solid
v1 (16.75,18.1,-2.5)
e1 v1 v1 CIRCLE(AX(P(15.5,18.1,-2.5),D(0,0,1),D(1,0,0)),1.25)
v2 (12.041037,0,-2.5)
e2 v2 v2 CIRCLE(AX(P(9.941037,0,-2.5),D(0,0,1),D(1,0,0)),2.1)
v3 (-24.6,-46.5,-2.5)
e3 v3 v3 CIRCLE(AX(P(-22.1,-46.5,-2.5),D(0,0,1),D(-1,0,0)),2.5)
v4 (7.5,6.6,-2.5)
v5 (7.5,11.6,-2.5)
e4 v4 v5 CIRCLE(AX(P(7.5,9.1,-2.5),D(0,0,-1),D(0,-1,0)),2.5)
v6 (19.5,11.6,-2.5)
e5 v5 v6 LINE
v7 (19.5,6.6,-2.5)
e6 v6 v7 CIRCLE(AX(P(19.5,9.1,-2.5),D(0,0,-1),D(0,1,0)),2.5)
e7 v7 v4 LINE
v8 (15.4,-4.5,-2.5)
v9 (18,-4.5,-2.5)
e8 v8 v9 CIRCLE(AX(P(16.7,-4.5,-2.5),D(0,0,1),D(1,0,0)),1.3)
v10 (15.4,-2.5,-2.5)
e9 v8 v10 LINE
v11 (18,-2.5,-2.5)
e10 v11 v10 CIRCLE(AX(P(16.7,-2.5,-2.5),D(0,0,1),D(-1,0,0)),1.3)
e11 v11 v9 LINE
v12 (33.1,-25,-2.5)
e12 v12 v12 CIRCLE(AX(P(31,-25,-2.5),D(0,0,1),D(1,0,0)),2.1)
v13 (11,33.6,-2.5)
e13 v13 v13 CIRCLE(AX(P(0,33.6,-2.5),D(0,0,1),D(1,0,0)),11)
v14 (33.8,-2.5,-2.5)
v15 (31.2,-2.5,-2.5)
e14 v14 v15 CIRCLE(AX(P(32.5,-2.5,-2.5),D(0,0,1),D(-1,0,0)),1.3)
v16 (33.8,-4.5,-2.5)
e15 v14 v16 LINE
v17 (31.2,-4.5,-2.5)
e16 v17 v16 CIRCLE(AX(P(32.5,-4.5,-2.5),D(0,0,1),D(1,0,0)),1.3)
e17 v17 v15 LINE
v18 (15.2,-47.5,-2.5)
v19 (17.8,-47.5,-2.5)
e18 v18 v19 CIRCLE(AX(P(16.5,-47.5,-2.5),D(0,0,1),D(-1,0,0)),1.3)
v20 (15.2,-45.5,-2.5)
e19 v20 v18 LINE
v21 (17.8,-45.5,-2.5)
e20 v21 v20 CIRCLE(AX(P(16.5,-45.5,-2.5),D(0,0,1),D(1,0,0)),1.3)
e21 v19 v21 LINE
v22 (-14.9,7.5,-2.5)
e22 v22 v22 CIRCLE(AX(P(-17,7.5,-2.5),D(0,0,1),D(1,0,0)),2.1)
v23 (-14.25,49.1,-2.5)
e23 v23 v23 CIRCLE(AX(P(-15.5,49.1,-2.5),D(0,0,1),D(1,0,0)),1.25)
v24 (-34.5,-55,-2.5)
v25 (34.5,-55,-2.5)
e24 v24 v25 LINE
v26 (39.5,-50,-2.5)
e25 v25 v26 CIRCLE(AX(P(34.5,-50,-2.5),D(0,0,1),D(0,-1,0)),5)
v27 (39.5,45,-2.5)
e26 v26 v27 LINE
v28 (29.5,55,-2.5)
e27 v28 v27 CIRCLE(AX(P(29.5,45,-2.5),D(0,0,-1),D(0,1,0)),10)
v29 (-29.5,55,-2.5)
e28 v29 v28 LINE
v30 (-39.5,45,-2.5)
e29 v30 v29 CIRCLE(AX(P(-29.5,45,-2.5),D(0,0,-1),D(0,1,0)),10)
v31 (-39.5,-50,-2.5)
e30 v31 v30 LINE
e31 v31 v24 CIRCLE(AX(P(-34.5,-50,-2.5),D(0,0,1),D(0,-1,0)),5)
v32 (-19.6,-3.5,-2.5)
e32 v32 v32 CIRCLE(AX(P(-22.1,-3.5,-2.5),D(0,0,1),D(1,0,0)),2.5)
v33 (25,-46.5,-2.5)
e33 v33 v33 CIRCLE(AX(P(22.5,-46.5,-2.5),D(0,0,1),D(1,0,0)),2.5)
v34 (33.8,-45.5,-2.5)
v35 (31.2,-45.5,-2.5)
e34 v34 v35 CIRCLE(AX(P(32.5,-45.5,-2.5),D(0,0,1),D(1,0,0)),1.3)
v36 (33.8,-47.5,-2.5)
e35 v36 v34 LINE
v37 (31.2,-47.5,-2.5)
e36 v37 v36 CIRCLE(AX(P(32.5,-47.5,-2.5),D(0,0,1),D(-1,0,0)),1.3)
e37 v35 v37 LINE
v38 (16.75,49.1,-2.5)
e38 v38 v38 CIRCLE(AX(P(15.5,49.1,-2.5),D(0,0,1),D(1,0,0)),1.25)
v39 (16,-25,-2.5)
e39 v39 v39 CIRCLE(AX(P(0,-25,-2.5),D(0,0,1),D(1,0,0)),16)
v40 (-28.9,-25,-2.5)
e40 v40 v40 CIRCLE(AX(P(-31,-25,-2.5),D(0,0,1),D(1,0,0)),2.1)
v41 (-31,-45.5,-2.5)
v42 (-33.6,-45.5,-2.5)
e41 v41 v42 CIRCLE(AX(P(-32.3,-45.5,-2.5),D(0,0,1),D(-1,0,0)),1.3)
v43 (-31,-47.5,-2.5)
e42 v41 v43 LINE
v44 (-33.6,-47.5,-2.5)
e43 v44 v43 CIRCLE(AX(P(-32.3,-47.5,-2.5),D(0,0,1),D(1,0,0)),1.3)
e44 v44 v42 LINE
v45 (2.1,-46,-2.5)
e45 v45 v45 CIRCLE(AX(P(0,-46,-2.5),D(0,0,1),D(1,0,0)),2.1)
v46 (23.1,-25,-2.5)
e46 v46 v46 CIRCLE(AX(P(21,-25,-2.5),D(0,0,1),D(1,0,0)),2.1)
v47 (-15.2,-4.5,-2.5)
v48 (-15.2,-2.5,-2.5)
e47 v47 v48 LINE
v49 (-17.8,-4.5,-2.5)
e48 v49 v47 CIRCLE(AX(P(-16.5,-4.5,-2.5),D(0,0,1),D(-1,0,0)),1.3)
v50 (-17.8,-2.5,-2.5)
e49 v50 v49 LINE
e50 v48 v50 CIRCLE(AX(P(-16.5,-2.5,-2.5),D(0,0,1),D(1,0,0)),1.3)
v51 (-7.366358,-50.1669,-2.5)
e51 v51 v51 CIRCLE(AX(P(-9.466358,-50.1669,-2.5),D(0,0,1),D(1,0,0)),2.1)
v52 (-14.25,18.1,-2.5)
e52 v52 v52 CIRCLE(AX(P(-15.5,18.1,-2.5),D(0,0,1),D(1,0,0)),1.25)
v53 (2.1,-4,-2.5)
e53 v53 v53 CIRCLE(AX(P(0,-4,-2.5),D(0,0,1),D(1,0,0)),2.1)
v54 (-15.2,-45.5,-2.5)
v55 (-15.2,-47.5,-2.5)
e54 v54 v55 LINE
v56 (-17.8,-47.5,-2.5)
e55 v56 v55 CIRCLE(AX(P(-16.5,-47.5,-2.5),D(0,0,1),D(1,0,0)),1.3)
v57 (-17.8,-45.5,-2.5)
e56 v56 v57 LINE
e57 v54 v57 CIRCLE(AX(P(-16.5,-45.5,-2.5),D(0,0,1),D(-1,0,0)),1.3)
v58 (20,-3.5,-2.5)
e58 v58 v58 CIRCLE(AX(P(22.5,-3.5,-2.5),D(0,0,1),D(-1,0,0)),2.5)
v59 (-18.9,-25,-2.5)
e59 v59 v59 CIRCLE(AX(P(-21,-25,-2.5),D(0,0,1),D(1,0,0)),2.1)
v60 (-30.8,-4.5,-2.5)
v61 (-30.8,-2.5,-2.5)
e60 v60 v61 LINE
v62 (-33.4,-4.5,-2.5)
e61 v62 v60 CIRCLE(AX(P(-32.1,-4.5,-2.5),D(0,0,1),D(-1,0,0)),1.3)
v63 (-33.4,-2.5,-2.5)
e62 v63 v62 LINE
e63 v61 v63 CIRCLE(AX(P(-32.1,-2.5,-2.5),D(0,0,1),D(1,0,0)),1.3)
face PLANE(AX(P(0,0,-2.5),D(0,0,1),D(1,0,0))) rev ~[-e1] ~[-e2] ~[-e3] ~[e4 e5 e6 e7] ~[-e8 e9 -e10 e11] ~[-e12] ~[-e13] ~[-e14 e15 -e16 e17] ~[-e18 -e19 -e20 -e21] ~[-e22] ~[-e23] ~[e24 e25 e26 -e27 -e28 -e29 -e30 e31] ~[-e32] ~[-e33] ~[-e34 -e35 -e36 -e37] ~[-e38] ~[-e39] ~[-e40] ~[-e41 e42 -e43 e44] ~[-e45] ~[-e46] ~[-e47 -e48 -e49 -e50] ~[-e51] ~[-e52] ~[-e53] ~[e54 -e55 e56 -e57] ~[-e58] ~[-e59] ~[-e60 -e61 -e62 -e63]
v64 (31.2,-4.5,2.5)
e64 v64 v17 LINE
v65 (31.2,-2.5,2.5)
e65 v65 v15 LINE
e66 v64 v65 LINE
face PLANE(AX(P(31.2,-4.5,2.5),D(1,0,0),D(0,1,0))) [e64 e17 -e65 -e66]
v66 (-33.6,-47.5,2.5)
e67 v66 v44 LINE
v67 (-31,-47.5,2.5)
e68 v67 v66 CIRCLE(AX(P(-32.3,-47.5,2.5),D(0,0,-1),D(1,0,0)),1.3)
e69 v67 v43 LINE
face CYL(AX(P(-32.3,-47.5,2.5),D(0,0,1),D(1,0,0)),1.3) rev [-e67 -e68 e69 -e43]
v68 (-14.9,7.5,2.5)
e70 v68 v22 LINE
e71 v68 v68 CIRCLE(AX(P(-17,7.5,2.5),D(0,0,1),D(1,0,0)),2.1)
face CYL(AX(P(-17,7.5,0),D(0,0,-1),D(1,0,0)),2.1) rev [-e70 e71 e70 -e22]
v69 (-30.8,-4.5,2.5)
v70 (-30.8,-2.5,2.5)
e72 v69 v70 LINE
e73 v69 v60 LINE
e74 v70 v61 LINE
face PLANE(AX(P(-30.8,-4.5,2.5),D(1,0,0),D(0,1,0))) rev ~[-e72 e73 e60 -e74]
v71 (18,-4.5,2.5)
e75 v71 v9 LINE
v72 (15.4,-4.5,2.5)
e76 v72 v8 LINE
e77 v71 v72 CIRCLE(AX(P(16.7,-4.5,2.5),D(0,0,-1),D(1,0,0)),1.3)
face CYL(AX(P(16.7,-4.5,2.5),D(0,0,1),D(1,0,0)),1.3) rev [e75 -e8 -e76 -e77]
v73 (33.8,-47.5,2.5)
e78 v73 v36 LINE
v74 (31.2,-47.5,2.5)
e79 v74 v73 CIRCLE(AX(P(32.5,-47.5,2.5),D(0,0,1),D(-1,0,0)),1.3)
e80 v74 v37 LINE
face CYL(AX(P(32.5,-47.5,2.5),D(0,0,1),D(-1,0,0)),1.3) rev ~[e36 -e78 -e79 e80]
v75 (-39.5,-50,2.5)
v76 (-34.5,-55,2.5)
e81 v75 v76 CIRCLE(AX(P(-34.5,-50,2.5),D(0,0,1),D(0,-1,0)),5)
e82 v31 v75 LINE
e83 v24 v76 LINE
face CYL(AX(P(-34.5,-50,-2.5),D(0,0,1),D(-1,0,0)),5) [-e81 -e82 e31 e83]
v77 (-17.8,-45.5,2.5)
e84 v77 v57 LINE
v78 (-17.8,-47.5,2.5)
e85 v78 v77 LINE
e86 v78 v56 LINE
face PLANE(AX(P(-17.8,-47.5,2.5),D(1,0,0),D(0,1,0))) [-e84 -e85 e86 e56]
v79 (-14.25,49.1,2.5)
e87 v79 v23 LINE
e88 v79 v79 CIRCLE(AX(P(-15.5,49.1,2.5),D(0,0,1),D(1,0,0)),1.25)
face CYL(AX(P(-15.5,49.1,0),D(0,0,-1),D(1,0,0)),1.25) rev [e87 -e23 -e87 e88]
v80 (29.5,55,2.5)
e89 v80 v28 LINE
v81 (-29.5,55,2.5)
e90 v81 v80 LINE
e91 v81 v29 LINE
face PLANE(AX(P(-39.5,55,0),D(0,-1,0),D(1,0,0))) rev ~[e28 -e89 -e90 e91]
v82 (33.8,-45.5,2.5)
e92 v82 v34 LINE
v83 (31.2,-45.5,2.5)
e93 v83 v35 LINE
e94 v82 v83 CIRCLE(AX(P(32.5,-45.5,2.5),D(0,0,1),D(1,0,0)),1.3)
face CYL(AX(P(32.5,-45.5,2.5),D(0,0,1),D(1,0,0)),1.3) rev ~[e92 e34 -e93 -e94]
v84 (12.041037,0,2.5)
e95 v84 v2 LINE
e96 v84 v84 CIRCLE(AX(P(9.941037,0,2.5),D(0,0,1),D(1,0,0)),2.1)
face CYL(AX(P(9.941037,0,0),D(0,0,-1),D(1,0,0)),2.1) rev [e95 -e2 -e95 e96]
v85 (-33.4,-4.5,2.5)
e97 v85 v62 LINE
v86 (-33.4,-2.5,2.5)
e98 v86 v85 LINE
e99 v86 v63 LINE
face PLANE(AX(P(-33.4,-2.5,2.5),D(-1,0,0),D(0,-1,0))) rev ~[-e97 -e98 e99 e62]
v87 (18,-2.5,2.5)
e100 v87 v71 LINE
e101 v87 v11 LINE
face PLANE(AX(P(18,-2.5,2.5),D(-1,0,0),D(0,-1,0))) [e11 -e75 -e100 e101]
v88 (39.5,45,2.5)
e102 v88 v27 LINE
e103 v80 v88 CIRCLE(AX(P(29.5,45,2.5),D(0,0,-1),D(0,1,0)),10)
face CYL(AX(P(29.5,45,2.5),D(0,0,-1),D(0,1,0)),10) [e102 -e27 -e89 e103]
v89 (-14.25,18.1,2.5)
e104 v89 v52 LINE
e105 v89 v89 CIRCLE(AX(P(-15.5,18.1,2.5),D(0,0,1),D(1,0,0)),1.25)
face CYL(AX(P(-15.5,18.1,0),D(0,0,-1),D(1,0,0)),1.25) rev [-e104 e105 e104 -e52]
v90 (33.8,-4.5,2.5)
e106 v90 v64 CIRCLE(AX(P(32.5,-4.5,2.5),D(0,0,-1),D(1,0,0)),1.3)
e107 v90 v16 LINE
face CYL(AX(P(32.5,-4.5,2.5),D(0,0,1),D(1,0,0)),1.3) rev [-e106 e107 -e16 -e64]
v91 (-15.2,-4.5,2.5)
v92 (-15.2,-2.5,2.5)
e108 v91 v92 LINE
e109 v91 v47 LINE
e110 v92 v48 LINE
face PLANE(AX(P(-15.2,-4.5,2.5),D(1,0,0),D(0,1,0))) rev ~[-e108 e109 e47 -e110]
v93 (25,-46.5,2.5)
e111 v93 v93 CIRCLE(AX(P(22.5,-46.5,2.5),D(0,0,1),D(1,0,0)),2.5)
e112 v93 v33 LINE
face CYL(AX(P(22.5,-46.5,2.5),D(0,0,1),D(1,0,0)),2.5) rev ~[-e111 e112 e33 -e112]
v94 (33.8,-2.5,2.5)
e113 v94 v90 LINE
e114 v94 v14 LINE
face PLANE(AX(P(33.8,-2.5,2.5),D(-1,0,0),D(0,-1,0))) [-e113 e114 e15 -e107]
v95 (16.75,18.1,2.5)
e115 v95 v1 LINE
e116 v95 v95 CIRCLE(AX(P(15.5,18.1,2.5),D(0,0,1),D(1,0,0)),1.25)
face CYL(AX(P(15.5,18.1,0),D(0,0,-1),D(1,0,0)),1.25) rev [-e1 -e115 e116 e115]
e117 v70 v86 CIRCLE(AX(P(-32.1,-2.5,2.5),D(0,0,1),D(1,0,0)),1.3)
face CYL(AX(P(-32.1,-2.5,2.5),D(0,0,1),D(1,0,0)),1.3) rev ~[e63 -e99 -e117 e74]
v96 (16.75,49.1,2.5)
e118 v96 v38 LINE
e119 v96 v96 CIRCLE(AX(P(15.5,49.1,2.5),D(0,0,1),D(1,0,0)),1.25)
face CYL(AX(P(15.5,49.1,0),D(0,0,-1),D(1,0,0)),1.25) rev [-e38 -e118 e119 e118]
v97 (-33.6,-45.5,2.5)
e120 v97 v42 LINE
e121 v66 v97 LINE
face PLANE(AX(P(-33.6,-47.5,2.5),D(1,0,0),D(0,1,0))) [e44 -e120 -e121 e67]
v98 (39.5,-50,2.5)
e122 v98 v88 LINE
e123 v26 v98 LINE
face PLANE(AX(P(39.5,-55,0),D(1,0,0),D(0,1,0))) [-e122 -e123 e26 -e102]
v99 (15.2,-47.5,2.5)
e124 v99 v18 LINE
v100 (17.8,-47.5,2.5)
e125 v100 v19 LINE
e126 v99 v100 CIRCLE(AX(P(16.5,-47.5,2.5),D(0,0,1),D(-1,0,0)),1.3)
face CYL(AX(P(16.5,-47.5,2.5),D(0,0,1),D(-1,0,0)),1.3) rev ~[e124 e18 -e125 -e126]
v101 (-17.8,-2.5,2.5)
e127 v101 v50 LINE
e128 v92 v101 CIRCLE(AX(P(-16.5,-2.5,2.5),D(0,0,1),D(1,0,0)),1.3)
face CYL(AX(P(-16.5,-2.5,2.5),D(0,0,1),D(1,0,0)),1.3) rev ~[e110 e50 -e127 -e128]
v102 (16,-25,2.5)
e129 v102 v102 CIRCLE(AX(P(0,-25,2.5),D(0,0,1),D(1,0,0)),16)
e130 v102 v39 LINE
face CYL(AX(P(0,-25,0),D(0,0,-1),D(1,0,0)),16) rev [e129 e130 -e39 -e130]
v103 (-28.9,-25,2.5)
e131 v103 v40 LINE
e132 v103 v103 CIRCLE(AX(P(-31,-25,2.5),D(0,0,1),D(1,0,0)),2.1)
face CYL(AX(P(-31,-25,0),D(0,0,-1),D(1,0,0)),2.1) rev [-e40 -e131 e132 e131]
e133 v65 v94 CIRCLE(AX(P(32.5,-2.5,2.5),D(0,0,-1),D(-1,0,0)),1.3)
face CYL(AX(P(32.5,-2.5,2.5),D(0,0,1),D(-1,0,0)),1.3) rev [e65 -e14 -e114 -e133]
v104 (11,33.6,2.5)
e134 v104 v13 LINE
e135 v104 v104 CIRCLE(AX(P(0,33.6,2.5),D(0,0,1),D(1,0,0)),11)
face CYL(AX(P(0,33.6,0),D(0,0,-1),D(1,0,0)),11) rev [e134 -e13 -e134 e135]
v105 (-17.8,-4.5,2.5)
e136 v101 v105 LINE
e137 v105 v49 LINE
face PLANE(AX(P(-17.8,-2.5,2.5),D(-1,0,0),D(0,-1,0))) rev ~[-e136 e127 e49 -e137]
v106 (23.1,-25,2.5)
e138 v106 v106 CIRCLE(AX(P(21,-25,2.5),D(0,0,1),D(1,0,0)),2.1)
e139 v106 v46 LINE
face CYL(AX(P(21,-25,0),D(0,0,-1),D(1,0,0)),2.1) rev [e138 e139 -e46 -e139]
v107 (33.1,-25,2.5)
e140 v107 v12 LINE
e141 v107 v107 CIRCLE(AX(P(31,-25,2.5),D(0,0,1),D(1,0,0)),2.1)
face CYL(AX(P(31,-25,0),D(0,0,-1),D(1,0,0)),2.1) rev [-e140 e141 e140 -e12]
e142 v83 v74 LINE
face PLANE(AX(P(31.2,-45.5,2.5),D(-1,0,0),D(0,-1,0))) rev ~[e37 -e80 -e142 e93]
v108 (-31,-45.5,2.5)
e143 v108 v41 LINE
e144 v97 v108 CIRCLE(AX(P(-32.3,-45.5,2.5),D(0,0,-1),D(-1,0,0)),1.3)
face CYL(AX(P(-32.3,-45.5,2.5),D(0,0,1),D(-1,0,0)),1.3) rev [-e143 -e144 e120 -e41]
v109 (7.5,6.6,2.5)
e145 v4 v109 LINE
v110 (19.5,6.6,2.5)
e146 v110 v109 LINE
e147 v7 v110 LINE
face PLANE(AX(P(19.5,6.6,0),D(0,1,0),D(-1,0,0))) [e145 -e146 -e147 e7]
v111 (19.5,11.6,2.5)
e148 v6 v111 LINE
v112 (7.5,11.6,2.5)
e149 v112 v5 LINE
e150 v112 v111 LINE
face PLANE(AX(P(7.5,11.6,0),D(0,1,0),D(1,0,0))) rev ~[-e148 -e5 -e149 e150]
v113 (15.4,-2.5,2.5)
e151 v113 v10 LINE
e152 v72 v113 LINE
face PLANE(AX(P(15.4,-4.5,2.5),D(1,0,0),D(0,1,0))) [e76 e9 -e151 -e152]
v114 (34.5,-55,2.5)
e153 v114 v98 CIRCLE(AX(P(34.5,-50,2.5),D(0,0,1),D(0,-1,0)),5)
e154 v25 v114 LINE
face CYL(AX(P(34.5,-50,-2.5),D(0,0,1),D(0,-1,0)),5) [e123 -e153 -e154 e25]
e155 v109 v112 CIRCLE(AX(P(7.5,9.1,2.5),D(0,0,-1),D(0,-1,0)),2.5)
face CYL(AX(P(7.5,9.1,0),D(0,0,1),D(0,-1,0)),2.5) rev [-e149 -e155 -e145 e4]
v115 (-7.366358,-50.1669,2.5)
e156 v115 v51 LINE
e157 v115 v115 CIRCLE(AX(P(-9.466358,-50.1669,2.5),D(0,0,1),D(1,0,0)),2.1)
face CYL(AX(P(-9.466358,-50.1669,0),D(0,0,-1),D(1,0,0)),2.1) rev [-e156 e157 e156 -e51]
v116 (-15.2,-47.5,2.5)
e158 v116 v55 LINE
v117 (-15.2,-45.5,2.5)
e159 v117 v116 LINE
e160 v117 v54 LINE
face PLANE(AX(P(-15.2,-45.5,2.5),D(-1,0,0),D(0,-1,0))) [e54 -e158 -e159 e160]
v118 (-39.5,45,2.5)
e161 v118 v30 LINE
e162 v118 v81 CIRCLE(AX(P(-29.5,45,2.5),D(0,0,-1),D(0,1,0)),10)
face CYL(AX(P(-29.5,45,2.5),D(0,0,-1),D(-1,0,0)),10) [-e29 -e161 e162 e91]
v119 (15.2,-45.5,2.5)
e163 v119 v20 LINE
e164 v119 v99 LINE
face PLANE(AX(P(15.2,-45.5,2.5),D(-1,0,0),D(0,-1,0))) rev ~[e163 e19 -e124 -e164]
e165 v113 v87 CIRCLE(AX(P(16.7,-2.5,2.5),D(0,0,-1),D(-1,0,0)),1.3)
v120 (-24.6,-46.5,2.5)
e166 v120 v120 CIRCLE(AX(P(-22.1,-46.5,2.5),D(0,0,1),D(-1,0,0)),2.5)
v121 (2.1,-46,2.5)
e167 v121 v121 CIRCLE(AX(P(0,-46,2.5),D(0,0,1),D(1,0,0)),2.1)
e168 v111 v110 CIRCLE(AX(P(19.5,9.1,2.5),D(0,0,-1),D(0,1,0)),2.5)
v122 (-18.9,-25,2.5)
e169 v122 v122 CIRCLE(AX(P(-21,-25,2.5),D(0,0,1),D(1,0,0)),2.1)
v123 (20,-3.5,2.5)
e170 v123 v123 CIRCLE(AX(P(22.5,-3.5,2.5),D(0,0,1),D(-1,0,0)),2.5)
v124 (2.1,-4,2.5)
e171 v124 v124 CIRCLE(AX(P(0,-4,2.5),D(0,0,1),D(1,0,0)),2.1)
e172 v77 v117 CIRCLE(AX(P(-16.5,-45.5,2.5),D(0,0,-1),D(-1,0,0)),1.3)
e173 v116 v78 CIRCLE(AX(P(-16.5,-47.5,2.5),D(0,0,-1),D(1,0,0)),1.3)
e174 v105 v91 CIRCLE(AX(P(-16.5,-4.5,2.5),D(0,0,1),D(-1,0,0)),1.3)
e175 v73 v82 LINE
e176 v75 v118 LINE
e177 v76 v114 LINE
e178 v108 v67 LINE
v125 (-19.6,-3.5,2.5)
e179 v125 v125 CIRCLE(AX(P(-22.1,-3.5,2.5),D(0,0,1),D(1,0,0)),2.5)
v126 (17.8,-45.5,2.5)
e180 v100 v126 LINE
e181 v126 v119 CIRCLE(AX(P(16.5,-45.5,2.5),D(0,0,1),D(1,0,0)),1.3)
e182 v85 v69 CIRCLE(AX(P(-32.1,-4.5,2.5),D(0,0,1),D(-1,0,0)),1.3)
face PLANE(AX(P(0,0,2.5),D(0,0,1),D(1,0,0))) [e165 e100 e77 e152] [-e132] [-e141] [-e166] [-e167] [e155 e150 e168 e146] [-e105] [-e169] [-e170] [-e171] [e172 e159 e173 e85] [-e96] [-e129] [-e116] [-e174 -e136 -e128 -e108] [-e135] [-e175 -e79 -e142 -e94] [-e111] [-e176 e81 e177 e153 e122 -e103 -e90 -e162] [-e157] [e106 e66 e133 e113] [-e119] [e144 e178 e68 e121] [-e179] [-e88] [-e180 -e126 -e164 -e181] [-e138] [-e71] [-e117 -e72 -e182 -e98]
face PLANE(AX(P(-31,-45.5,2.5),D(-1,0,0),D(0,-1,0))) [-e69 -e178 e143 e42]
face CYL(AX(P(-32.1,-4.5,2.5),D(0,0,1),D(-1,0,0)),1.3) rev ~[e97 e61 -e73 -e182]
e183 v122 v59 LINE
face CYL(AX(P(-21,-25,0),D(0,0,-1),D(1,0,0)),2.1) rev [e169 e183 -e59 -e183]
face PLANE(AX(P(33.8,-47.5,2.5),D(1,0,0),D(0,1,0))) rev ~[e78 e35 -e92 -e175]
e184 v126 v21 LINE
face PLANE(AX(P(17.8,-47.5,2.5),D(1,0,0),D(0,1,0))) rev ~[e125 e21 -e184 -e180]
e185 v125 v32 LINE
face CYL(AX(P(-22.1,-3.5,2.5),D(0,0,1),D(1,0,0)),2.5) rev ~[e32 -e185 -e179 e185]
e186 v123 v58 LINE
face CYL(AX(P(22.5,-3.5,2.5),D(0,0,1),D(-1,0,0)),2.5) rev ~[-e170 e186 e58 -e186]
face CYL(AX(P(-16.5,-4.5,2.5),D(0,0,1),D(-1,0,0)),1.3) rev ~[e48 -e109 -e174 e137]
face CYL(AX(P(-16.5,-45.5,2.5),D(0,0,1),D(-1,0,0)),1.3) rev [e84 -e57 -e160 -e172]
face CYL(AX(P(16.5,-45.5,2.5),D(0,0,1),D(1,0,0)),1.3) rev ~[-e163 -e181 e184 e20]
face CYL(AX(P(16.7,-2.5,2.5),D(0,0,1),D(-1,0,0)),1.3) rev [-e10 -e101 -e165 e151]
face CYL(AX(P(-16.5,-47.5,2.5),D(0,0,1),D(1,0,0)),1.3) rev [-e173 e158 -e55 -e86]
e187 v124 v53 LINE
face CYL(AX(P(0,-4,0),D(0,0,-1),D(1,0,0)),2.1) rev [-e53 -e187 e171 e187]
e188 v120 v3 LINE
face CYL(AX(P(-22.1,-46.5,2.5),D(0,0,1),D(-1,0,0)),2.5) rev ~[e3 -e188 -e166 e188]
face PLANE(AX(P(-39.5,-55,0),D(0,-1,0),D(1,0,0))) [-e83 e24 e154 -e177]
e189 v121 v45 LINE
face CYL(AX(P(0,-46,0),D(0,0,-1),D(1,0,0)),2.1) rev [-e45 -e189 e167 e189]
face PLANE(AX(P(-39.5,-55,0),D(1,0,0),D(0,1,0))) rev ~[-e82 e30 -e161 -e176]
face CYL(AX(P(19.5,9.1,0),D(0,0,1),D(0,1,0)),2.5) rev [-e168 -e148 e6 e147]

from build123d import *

# Parameters (mm, degrees)
SKETCH1_W           = 79
SKETCH1_H           = 110
SKETCH1_R           = 16
SKETCH1_R_2         = 11
SKETCH1_R_3         = 2.1
SKETCH1_R_4         = 1.25
BOSS_EXTRUDE1_DEPTH = 2.5
SKETCH2_R           = 2.5
CUT_EXTRUDE1_DEPTH  = 648.672345596
FILLET1_R           = 10
FILLET2_R           = 5


with BuildPart() as part:
    # Sketch1 → Boss-Extrude1 (new, symmetric)
    with BuildSketch(Plane.XY):
        Rectangle(SKETCH1_W, SKETCH1_H)
        with Locations((0, -25)):
            Circle(SKETCH1_R, mode=Mode.SUBTRACT)
        with Locations((0, 33.6)):
            Circle(SKETCH1_R_2, mode=Mode.SUBTRACT)
        with Locations((21, -25)):
            Circle(SKETCH1_R_3, mode=Mode.SUBTRACT)
        with Locations((-21, -25)):
            Circle(SKETCH1_R_3, mode=Mode.SUBTRACT)
        with Locations((0, -4)):
            Circle(SKETCH1_R_3, mode=Mode.SUBTRACT)
        with Locations((0, -46)):
            Circle(SKETCH1_R_3, mode=Mode.SUBTRACT)
        with Locations((15.5, 49.1)):
            Circle(SKETCH1_R_4, mode=Mode.SUBTRACT)
        with Locations((15.5, 18.1)):
            Circle(SKETCH1_R_4, mode=Mode.SUBTRACT)
        with Locations((-15.5, 18.1)):
            Circle(SKETCH1_R_4, mode=Mode.SUBTRACT)
        with Locations((-15.5, 49.1)):
            Circle(SKETCH1_R_4, mode=Mode.SUBTRACT)
        with Locations((-17, 7.5)):
            Circle(SKETCH1_R_3, mode=Mode.SUBTRACT)
        with Locations((9.941037343, 0)):
            Circle(SKETCH1_R_3, mode=Mode.SUBTRACT)
        with Locations((31, -25)):
            Circle(SKETCH1_R_3, mode=Mode.SUBTRACT)
        with Locations((-9.466357856, -50.166900153)):
            Circle(SKETCH1_R_3, mode=Mode.SUBTRACT)
        with Locations((-31, -25)):
            Circle(SKETCH1_R_3, mode=Mode.SUBTRACT)
        with BuildLine():
            Line((7.5, 11.6), (19.5, 11.6))
            ThreePointArc((19.5, 11.6), (22, 9.1), (19.5, 6.6))
            Line((19.5, 6.6), (7.5, 6.6))
            ThreePointArc((7.5, 6.6), (5, 9.1), (7.5, 11.6))
        make_face(mode=Mode.SUBTRACT)
    extrude(amount=BOSS_EXTRUDE1_DEPTH, both=True)

    # Sketch2 → Cut-Extrude1 (cut, through all)
    with BuildSketch(Plane(origin=(-158.166263917, -561.751583183, 2.5), x_dir=(1, 0, 0), z_dir=(0, 0, 1))):
        with Locations((136.066263917, 558.251583183)):
            Circle(SKETCH2_R)
        with Locations(Location((180.666263917, 558.251583183, 0), (0, 0, 180))):
            Circle(SKETCH2_R)
        with Locations(Location((136.066263917, 515.251583183, 0), (0, 0, 180))):
            Circle(SKETCH2_R)
        with Locations((180.666263917, 515.251583183)):
            Circle(SKETCH2_R)
        with BuildLine():
            Line((191.966263917, 559.251583183), (191.966263917, 557.251583183))
            ThreePointArc((191.966263917, 557.251583183), (190.666263917, 555.951583183), (189.366263917, 557.251583183))
            Line((189.366263917, 557.251583183), (189.366263917, 559.251583183))
            ThreePointArc((189.366263917, 559.251583183), (190.666263917, 560.551583183), (191.966263917, 559.251583183))
        make_face()
        with BuildLine():
            Line((173.566263917, 557.251583183), (173.566263917, 559.251583183))
            ThreePointArc((173.566263917, 559.251583183), (174.866263917, 560.551583183), (176.166263917, 559.251583183))
            Line((176.166263917, 559.251583183), (176.166263917, 557.251583183))
            ThreePointArc((176.166263917, 557.251583183), (174.866263917, 555.951583183), (173.566263917, 557.251583183))
        make_face()
        with BuildLine():
            Line((142.966263917, 557.251583183), (142.966263917, 559.251583183))
            ThreePointArc((142.966263917, 559.251583183), (141.666263917, 560.551583183), (140.366263917, 559.251583183))
            Line((140.366263917, 559.251583183), (140.366263917, 557.251583183))
            ThreePointArc((140.366263917, 557.251583183), (141.666263917, 555.951583183), (142.966263917, 557.251583183))
        make_face()
        with BuildLine():
            Line((124.766263917, 559.251583183), (124.766263917, 557.251583183))
            ThreePointArc((124.766263917, 557.251583183), (126.066263917, 555.951583183), (127.366263917, 557.251583183))
            Line((127.366263917, 557.251583183), (127.366263917, 559.251583183))
            ThreePointArc((127.366263917, 559.251583183), (126.066263917, 560.551583183), (124.766263917, 559.251583183))
        make_face()
        with BuildLine():
            Line((124.566263917, 514.251583183), (124.566263917, 516.251583183))
            ThreePointArc((124.566263917, 516.251583183), (125.866263917, 517.551583183), (127.166263917, 516.251583183))
            Line((127.166263917, 516.251583183), (127.166263917, 514.251583183))
            ThreePointArc((127.166263917, 514.251583183), (125.866263917, 512.951583183), (124.566263917, 514.251583183))
        make_face()
        with BuildLine():
            Line((142.966263917, 516.251583183), (142.966263917, 514.251583183))
            ThreePointArc((142.966263917, 514.251583183), (141.666263917, 512.951583183), (140.366263917, 514.251583183))
            Line((140.366263917, 514.251583183), (140.366263917, 516.251583183))
            ThreePointArc((140.366263917, 516.251583183), (141.666263917, 517.551583183), (142.966263917, 516.251583183))
        make_face()
        with BuildLine():
            Line((173.366263917, 516.251583183), (173.366263917, 514.251583183))
            ThreePointArc((173.366263917, 514.251583183), (174.666263917, 512.951583183), (175.966263917, 514.251583183))
            Line((175.966263917, 514.251583183), (175.966263917, 516.251583183))
            ThreePointArc((175.966263917, 516.251583183), (174.666263917, 517.551583183), (173.366263917, 516.251583183))
        make_face()
        with BuildLine():
            Line((191.966263917, 514.251583183), (191.966263917, 516.251583183))
            ThreePointArc((191.966263917, 516.251583183), (190.666263917, 517.551583183), (189.366263917, 516.251583183))
            Line((189.366263917, 516.251583183), (189.366263917, 514.251583183))
            ThreePointArc((189.366263917, 514.251583183), (190.666263917, 512.951583183), (191.966263917, 514.251583183))
        make_face()
    extrude(amount=-CUT_EXTRUDE1_DEPTH, mode=Mode.SUBTRACT)

    # Fillet1
    fillet1_edges = [part.edges().sort_by_distance(p)[0] for p in [
        (-39.5, 55, 0),
        (39.5, 55, 0),
    ]]
    fillet(fillet1_edges, radius=FILLET1_R)

    # Fillet2
    fillet2_edges = [part.edges().sort_by_distance(p)[0] for p in [
        (39.5, -55, 0),
        (-39.5, -55, 0),
    ]]
    fillet(fillet2_edges, radius=FILLET2_R)


solid = part.part
